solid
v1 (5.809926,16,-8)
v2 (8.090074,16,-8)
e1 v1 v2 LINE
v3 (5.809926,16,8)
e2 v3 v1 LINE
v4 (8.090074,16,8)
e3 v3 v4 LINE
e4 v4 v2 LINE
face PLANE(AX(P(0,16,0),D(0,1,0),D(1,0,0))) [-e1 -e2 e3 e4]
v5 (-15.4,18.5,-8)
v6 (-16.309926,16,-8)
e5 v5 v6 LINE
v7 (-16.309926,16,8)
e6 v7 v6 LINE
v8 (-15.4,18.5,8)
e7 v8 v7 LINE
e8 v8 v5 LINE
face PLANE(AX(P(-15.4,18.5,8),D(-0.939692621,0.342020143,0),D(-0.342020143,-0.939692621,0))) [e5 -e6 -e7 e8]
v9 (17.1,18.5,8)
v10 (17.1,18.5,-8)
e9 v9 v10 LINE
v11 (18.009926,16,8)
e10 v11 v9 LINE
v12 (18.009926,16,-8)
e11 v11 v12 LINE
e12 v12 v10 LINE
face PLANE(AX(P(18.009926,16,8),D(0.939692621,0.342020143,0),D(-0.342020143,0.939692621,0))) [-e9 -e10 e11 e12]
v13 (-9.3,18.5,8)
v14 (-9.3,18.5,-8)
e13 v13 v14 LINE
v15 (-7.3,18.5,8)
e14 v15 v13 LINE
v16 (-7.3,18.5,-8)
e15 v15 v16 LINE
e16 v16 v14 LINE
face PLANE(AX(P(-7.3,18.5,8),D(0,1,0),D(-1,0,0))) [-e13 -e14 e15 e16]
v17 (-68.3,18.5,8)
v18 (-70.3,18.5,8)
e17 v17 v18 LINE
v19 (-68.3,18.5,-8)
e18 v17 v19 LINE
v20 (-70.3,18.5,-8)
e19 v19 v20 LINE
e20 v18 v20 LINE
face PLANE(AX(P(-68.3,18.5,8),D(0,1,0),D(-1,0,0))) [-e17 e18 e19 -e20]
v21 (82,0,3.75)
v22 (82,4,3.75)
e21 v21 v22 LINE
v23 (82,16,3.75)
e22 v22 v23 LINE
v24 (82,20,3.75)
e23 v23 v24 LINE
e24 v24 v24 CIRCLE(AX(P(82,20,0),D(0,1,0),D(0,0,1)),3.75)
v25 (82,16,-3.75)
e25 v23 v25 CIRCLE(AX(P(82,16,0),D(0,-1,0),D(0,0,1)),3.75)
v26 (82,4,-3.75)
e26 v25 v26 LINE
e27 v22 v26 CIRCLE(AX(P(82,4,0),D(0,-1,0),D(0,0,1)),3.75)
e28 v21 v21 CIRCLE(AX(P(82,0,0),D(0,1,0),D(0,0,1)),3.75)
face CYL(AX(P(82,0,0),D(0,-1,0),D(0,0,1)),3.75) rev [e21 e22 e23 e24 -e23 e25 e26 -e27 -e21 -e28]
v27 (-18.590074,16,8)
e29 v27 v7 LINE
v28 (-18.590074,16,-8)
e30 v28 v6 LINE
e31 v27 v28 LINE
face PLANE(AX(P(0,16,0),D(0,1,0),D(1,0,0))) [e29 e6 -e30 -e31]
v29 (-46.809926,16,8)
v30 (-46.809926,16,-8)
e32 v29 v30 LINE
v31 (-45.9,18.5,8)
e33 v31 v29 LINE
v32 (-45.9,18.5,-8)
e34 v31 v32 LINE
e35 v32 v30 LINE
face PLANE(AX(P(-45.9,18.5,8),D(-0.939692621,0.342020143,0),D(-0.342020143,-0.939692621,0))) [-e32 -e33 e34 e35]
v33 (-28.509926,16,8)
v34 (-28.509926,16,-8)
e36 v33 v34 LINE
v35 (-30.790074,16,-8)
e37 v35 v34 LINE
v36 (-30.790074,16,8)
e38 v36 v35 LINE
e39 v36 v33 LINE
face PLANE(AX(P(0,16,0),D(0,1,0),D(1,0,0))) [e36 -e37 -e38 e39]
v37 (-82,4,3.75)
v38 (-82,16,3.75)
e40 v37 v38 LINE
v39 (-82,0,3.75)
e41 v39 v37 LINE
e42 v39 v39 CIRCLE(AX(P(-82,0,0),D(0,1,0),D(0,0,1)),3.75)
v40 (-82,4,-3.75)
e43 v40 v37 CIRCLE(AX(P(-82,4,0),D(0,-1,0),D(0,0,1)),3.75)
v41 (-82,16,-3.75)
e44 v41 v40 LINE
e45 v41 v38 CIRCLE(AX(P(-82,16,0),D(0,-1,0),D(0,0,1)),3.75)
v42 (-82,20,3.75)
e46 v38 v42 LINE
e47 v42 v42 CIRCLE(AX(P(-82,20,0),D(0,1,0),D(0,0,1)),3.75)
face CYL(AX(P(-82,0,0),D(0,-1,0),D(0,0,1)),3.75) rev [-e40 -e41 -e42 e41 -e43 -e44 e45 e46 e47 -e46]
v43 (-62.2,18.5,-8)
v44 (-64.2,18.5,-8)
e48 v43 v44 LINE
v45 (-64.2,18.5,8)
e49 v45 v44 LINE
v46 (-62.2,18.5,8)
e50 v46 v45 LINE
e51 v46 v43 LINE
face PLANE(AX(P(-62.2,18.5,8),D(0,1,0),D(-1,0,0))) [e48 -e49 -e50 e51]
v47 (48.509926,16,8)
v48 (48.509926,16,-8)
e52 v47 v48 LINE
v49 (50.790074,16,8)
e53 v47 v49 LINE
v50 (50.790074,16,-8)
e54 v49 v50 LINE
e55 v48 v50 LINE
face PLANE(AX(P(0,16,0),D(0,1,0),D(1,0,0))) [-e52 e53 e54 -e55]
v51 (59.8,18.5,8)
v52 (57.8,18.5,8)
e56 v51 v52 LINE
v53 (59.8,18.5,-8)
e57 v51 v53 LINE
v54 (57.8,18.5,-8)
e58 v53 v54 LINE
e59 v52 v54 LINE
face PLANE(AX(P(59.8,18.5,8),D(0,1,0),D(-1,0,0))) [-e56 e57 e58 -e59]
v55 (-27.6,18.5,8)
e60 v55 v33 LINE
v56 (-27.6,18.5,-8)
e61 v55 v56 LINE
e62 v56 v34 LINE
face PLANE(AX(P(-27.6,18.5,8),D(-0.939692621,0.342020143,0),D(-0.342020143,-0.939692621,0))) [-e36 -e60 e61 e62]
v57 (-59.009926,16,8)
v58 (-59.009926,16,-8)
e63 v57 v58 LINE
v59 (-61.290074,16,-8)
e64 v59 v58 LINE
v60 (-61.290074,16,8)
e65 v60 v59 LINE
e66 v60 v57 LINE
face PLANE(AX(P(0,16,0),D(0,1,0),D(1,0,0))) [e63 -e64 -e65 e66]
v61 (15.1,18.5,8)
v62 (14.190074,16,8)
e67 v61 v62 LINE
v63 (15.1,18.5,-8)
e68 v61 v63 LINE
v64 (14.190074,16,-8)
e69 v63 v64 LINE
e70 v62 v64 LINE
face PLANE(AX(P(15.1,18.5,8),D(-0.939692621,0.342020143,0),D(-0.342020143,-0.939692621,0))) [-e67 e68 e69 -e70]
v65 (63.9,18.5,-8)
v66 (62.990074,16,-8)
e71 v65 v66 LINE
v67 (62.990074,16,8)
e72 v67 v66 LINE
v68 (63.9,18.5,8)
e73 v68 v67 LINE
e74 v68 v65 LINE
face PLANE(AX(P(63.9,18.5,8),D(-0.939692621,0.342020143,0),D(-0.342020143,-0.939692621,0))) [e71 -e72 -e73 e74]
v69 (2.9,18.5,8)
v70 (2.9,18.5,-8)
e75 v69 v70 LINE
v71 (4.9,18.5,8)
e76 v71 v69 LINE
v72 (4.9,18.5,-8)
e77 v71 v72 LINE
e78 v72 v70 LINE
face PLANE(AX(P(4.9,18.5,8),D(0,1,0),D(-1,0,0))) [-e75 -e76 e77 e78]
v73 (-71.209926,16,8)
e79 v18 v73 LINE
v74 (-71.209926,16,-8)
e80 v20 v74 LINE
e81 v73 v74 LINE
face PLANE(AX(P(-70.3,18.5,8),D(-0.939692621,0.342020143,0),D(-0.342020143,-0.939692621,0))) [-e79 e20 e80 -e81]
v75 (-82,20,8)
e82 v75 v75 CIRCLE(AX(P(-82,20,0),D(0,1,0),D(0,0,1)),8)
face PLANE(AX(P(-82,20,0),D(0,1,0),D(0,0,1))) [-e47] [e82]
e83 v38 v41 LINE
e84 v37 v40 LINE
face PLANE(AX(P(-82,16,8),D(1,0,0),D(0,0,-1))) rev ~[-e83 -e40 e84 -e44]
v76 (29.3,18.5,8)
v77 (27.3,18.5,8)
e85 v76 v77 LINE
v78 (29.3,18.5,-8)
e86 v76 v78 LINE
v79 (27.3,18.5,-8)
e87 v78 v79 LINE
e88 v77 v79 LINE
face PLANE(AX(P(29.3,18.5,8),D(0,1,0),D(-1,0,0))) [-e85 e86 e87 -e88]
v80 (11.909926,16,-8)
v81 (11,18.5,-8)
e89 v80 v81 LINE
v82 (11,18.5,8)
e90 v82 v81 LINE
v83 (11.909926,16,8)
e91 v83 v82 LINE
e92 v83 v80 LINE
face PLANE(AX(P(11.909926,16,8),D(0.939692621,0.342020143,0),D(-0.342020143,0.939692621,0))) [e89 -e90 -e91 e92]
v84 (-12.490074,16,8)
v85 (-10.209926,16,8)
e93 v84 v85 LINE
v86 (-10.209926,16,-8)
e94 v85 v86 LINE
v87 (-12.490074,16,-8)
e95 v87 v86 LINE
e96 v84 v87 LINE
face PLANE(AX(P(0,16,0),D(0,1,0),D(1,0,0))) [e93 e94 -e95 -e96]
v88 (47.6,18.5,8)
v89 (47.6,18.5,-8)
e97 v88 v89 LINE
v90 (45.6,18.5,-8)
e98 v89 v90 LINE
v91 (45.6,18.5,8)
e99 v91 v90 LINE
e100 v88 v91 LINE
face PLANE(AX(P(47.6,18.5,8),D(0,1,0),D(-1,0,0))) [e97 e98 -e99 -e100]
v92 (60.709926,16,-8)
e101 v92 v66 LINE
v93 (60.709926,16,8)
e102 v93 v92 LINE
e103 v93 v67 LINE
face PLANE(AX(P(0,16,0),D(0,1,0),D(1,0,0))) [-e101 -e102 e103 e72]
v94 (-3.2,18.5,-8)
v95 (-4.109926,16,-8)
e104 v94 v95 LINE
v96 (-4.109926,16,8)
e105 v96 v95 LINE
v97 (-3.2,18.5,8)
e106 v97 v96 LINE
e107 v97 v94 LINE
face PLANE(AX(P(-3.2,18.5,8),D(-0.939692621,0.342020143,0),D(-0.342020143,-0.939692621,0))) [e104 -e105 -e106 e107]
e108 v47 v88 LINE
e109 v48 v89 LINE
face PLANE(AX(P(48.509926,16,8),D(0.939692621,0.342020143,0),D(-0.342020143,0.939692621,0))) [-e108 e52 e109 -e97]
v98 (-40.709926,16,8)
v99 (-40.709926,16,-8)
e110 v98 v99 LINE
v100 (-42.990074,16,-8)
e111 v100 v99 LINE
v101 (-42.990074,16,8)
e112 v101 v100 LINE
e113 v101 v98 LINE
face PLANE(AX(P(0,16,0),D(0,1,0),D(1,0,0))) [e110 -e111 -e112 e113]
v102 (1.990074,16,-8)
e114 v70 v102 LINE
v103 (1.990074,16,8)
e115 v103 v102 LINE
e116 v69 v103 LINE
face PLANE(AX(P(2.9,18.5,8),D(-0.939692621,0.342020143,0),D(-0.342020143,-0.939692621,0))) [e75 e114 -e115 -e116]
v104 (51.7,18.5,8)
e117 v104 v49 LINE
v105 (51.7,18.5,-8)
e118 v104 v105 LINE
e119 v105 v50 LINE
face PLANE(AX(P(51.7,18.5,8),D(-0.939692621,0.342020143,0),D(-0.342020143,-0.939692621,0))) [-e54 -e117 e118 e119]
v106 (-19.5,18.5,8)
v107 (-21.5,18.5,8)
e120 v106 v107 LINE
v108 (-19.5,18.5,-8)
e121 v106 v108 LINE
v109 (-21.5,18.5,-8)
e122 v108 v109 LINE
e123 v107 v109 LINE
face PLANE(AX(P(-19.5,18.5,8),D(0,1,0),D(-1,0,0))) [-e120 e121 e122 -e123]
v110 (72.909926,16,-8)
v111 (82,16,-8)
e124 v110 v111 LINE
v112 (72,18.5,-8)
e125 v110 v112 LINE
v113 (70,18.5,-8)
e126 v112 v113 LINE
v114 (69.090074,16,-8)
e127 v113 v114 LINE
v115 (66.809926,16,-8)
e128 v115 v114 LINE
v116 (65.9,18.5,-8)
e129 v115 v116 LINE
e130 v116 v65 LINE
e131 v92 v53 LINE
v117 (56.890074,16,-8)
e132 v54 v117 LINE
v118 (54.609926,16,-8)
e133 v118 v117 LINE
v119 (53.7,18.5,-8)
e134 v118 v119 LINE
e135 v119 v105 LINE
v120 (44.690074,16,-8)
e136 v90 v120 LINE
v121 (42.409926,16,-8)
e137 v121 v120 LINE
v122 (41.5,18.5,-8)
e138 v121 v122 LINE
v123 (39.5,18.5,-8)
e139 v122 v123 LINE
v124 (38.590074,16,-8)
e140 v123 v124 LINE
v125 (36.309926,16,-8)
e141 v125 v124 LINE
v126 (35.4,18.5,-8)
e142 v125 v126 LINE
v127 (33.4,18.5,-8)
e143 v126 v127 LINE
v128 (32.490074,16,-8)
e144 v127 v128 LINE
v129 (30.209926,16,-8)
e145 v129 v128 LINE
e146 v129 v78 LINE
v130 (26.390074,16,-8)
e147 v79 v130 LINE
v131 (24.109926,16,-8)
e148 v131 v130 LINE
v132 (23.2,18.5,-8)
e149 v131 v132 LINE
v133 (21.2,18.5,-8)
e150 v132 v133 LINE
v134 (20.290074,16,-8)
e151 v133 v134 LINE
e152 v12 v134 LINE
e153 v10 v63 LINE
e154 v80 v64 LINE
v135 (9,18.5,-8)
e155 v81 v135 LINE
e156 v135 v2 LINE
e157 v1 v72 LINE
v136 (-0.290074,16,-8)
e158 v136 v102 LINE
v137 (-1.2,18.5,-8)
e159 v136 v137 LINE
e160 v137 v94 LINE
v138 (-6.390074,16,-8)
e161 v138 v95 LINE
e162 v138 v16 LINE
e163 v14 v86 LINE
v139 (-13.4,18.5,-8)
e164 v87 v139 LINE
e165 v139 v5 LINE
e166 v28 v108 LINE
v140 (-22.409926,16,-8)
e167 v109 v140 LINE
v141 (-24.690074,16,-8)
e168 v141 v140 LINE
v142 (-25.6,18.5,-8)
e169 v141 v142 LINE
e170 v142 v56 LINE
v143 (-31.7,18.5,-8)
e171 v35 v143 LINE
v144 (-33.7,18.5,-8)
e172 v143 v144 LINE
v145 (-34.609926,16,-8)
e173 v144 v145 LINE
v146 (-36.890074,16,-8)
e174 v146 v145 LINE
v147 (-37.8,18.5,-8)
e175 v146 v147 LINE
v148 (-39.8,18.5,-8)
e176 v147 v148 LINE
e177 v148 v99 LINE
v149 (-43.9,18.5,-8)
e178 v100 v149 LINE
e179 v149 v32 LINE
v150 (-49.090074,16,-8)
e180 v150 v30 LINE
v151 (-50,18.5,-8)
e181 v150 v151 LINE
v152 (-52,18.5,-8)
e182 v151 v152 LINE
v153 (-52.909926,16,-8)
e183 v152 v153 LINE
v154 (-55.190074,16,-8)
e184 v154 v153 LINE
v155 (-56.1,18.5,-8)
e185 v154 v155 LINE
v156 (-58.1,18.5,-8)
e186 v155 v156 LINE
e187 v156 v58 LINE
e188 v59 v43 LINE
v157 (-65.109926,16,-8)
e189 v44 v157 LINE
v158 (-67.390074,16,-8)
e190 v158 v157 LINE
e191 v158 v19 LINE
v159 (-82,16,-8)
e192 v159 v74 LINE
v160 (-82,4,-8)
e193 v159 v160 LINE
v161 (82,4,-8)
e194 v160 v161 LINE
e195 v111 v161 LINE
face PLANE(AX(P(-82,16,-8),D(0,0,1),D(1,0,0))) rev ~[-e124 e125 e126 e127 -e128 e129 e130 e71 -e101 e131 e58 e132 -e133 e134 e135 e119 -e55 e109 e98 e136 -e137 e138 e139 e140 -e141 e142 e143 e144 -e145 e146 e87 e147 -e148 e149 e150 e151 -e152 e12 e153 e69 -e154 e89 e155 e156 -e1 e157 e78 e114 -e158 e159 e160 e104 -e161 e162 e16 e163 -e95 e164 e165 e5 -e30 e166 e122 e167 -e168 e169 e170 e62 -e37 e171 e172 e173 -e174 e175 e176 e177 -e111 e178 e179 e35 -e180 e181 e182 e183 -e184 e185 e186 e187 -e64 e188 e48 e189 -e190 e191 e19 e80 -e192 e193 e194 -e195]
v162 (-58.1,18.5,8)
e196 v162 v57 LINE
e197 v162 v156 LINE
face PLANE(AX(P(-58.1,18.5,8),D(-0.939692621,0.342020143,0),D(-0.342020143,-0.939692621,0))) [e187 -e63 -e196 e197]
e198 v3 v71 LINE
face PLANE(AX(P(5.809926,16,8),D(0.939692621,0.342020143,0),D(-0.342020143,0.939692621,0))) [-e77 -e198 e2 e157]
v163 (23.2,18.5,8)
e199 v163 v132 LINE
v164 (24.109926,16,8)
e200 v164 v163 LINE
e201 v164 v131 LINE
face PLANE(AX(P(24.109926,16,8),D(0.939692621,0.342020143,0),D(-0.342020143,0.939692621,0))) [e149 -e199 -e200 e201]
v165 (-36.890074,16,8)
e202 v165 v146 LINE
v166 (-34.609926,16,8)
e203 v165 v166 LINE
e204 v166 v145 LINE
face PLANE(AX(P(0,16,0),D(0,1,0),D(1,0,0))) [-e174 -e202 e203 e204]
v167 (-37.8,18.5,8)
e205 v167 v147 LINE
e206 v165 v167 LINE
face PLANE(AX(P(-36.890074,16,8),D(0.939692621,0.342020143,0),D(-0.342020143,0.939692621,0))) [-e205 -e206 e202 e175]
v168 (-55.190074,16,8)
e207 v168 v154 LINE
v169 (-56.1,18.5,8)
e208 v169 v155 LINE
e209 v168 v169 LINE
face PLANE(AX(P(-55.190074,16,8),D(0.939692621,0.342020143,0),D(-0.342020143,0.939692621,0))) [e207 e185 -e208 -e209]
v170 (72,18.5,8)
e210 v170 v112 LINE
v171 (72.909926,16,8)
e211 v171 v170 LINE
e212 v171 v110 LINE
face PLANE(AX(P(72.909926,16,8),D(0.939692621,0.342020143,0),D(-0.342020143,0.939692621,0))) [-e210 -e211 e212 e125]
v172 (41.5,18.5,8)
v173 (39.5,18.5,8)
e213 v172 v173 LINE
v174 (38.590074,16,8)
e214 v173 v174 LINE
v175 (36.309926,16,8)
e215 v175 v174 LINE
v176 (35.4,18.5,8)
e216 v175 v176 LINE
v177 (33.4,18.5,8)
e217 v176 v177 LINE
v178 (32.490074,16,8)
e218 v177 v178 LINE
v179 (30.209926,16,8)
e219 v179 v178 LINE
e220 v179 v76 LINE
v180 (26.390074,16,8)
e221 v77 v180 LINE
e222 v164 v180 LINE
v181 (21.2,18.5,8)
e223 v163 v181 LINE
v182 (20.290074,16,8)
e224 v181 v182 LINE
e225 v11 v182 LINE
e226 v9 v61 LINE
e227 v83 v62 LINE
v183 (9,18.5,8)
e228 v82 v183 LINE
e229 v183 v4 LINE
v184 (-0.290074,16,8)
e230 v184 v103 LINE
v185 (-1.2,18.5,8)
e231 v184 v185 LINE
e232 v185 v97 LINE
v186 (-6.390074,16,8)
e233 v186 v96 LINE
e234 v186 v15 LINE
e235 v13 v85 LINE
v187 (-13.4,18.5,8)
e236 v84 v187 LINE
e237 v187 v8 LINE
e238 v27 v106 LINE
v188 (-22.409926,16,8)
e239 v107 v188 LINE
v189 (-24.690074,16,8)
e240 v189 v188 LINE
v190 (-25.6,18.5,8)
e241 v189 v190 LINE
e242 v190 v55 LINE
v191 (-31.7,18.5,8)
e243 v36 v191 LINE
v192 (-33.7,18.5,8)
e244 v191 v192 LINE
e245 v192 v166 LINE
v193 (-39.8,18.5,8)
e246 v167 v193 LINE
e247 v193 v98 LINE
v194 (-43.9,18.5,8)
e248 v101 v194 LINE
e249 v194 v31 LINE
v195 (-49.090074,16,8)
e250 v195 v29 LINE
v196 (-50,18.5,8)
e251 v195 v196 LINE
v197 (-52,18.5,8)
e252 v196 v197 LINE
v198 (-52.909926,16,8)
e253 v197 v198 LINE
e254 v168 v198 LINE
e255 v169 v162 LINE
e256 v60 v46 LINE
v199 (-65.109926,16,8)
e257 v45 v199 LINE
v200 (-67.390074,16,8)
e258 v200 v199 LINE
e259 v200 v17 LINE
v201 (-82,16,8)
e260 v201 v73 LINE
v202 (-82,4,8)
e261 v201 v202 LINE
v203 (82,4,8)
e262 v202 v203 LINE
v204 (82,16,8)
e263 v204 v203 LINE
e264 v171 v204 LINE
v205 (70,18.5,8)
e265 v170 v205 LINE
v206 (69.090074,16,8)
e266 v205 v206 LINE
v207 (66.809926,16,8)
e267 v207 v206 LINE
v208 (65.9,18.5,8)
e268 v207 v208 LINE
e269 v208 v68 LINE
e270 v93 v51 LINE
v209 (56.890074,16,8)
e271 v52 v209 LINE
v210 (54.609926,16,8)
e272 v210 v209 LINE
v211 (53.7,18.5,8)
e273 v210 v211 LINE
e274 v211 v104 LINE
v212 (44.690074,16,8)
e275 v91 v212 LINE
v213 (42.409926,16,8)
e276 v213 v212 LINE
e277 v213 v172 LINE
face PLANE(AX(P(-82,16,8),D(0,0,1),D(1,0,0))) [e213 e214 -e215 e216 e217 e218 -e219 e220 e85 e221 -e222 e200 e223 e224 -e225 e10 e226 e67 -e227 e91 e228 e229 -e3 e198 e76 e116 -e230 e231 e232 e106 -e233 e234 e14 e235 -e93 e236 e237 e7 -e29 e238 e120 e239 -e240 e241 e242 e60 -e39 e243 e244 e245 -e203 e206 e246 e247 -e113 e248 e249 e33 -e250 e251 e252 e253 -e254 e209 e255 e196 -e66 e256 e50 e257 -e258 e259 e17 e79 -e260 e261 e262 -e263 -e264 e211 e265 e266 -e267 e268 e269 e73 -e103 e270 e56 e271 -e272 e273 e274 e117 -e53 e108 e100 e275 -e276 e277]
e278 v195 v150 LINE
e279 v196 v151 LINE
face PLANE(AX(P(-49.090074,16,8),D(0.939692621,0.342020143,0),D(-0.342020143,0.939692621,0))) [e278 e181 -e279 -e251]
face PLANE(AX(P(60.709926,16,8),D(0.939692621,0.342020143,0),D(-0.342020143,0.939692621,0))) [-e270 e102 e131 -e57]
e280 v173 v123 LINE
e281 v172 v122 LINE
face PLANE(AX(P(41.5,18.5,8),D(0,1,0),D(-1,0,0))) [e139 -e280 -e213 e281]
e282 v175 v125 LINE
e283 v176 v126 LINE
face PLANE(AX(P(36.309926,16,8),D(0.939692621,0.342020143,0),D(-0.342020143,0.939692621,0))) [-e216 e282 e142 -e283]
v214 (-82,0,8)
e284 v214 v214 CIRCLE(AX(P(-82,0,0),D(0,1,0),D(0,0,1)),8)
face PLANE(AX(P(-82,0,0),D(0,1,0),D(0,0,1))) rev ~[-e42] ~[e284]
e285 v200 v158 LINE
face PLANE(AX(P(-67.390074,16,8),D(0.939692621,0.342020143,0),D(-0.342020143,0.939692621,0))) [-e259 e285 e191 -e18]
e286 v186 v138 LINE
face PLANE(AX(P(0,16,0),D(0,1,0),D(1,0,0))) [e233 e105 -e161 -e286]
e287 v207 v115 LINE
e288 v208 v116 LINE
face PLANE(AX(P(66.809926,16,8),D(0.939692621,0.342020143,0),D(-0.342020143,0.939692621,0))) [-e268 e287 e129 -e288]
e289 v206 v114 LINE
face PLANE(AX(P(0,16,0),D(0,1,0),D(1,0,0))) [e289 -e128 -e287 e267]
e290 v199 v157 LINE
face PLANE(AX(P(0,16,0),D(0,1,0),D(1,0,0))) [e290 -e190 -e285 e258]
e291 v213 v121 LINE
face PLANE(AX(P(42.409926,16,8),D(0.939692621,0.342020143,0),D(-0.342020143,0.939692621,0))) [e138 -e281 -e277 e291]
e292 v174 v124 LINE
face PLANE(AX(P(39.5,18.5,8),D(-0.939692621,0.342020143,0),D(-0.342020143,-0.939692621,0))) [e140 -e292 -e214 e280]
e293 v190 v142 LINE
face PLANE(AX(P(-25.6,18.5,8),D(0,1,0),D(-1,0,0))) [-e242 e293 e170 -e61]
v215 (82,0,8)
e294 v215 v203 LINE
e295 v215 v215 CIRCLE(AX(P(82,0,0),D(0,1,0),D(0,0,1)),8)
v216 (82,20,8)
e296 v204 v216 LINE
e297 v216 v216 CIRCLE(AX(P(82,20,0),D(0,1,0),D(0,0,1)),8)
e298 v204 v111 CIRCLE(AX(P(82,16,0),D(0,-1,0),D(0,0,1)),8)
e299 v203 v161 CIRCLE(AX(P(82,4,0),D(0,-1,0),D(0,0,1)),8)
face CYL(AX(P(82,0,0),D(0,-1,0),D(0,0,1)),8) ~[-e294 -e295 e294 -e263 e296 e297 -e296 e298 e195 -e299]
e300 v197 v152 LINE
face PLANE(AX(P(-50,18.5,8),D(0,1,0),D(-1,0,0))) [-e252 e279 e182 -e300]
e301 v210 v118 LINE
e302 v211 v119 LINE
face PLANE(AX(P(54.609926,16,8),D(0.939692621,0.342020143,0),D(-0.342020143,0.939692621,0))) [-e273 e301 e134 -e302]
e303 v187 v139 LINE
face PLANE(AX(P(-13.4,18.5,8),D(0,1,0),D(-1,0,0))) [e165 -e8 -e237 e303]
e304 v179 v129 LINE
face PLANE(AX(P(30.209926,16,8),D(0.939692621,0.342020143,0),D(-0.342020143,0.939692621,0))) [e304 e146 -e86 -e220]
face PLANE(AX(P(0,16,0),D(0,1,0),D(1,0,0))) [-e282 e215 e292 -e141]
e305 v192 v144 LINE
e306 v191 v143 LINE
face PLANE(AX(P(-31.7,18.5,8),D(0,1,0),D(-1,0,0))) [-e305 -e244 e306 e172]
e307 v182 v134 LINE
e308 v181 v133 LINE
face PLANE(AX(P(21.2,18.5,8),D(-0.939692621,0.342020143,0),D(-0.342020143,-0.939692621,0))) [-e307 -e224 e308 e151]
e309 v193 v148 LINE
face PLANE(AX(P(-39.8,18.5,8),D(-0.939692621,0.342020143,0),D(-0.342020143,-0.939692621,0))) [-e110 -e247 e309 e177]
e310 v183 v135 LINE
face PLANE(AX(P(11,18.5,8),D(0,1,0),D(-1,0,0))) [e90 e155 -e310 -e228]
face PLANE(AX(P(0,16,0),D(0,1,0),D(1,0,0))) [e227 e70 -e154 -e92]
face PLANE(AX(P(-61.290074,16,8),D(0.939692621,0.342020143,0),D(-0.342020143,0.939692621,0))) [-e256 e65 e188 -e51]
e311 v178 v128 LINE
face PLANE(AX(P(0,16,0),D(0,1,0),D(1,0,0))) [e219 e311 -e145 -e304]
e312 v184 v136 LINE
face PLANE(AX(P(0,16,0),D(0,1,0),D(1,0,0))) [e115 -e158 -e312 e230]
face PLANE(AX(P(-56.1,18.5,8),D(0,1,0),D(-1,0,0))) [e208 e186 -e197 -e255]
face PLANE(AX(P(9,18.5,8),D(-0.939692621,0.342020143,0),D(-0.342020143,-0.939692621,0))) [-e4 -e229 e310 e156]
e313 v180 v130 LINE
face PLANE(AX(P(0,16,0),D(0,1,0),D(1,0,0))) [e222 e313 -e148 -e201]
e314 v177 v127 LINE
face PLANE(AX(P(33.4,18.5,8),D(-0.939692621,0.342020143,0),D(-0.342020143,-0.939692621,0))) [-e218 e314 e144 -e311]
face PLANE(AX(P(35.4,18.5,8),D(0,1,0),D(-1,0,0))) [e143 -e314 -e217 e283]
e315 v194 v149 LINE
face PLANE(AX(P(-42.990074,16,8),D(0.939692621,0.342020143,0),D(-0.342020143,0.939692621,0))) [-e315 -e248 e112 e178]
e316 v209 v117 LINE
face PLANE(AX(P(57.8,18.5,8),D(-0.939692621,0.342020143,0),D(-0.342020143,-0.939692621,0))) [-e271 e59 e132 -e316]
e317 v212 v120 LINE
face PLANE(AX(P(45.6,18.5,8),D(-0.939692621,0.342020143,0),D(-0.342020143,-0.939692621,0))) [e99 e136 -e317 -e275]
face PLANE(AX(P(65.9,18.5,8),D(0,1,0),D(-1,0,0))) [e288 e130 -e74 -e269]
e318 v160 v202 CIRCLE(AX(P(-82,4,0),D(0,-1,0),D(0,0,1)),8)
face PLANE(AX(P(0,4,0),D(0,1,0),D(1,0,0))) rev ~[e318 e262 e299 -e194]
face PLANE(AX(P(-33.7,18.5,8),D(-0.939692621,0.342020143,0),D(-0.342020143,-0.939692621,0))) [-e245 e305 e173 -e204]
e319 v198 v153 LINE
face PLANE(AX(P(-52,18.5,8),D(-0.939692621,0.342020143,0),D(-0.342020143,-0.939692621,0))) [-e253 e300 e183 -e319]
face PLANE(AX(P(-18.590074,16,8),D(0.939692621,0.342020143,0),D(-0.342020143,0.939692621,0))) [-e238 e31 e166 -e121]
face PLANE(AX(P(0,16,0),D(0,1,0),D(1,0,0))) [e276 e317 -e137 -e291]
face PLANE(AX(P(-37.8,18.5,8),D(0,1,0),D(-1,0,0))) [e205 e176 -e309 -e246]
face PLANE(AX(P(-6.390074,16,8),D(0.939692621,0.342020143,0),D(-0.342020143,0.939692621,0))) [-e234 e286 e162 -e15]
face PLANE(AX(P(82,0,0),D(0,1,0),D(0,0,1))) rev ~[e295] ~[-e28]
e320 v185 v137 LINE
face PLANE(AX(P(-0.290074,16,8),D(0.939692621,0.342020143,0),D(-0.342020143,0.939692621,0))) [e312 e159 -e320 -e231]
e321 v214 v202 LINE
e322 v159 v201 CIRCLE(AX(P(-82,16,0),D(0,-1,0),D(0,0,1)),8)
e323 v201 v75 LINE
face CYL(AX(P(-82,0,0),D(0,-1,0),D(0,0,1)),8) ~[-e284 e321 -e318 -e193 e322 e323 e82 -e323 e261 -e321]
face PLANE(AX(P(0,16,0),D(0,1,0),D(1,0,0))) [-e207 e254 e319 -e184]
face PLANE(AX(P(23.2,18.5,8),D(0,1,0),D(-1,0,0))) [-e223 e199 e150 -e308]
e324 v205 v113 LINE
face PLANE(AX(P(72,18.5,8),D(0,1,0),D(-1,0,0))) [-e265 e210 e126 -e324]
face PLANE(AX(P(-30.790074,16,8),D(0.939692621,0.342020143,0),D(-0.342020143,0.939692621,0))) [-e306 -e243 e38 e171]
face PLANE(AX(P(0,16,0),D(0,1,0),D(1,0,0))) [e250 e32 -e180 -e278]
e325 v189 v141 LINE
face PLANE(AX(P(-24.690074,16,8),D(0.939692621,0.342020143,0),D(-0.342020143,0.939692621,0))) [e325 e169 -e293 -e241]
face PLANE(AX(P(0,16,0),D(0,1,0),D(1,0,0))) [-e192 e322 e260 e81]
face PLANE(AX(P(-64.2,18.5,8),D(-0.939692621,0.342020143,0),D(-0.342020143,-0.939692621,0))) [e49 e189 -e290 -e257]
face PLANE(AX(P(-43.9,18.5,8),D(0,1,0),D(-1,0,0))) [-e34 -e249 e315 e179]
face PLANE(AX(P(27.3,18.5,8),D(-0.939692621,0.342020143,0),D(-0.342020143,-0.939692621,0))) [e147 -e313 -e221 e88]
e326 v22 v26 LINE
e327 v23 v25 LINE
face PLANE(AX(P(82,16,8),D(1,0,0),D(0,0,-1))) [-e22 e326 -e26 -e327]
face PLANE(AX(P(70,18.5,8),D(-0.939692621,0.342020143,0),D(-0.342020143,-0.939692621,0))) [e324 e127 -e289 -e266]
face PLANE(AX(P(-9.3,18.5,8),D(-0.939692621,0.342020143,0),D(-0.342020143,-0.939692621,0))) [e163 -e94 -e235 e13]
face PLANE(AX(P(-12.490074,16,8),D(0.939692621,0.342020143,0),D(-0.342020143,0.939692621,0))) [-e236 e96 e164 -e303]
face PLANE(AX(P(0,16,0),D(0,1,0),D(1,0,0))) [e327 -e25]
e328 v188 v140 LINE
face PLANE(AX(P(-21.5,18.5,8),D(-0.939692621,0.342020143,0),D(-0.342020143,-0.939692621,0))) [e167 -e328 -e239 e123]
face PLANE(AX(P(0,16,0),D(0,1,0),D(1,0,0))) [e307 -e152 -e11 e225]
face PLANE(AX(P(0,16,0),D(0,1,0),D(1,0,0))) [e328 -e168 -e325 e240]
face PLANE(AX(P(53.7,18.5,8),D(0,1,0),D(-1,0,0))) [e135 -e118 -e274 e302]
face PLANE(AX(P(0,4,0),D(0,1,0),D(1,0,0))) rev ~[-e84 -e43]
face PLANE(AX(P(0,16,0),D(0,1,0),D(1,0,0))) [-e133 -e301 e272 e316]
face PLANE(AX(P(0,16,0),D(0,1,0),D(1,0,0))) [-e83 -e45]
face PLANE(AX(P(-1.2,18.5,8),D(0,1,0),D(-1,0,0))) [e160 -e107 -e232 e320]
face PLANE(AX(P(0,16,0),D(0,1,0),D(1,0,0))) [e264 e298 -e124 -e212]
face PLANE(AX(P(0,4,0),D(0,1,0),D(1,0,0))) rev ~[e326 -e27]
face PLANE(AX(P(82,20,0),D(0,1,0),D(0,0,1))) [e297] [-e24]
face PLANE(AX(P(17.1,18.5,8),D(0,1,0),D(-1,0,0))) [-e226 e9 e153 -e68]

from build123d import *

# Parameters (mm, degrees)
SKETCH2_R             = 8
SKETCH2_R_2           = 3.75
BOSS_EXTRUDE1_DEPTH   = 20
BOSS_EXTRUDE1_2_DEPTH = 20
SKETCH4_W             = 164
SKETCH4_H             = 16
BOSS_EXTRUDE2_DEPTH   = 12
BOSS_EXTRUDE3_DEPTH   = 16
LPATTERN2_COUNT       = 24
LPATTERN2_PITCH       = 6.1


with BuildPart() as part:
    # Sketch2 → Boss-Extrude1 (new body)
    with BuildSketch(Plane(origin=(0, 0, 0), x_dir=(1, 0, 0), z_dir=(0, 1, 0))):
        with Locations(Location((-82, 0, 0), (0, 0, 270))):
            Circle(SKETCH2_R)
        with Locations(Location((-82, 0, 0), (0, 0, 270))):
            Circle(SKETCH2_R_2, mode=Mode.SUBTRACT)
    extrude(amount=BOSS_EXTRUDE1_DEPTH)



with BuildPart() as body_2:
    # Sketch2 → Boss-Extrude1 2 (new body)
    with BuildSketch(Plane(origin=(0, 0, 0), x_dir=(1, 0, 0), z_dir=(0, 1, 0))):
        with Locations(Location((82, 0, 0), (0, 0, 270))):
            Circle(SKETCH2_R)
        with Locations(Location((82, 0, 0), (0, 0, 270))):
            Circle(SKETCH2_R_2, mode=Mode.SUBTRACT)
    extrude(amount=BOSS_EXTRUDE1_2_DEPTH)


with BuildPart() as part_1:
    add(part.part)

    add(body_2.part)  # Boss-Extrude2 merges body 2
    # Sketch4 → Boss-Extrude2 (add)
    with BuildSketch(Plane(origin=(0, 16, 0), x_dir=(1, 0, 0), z_dir=(0, 1, 0))):
        Rectangle(SKETCH4_W, SKETCH4_H)
    extrude(amount=-BOSS_EXTRUDE2_DEPTH)

    # Sketch5 → Boss-Extrude3 (add, through all)
    with BuildSketch(Plane.XY.offset(8)):
        Polygon((72.909925586, 16), (72, 18.5), (70, 18.5), (69.090074414, 16), align=None)
    boss_extrude3 = extrude(amount=-BOSS_EXTRUDE3_DEPTH)

    # LPattern2: Boss-Extrude3 ×24
    with Locations(*[(-i * LPATTERN2_PITCH, 0, 0) for i in range(1, LPATTERN2_COUNT)]):
        add(boss_extrude3)


solid = part_1.part
